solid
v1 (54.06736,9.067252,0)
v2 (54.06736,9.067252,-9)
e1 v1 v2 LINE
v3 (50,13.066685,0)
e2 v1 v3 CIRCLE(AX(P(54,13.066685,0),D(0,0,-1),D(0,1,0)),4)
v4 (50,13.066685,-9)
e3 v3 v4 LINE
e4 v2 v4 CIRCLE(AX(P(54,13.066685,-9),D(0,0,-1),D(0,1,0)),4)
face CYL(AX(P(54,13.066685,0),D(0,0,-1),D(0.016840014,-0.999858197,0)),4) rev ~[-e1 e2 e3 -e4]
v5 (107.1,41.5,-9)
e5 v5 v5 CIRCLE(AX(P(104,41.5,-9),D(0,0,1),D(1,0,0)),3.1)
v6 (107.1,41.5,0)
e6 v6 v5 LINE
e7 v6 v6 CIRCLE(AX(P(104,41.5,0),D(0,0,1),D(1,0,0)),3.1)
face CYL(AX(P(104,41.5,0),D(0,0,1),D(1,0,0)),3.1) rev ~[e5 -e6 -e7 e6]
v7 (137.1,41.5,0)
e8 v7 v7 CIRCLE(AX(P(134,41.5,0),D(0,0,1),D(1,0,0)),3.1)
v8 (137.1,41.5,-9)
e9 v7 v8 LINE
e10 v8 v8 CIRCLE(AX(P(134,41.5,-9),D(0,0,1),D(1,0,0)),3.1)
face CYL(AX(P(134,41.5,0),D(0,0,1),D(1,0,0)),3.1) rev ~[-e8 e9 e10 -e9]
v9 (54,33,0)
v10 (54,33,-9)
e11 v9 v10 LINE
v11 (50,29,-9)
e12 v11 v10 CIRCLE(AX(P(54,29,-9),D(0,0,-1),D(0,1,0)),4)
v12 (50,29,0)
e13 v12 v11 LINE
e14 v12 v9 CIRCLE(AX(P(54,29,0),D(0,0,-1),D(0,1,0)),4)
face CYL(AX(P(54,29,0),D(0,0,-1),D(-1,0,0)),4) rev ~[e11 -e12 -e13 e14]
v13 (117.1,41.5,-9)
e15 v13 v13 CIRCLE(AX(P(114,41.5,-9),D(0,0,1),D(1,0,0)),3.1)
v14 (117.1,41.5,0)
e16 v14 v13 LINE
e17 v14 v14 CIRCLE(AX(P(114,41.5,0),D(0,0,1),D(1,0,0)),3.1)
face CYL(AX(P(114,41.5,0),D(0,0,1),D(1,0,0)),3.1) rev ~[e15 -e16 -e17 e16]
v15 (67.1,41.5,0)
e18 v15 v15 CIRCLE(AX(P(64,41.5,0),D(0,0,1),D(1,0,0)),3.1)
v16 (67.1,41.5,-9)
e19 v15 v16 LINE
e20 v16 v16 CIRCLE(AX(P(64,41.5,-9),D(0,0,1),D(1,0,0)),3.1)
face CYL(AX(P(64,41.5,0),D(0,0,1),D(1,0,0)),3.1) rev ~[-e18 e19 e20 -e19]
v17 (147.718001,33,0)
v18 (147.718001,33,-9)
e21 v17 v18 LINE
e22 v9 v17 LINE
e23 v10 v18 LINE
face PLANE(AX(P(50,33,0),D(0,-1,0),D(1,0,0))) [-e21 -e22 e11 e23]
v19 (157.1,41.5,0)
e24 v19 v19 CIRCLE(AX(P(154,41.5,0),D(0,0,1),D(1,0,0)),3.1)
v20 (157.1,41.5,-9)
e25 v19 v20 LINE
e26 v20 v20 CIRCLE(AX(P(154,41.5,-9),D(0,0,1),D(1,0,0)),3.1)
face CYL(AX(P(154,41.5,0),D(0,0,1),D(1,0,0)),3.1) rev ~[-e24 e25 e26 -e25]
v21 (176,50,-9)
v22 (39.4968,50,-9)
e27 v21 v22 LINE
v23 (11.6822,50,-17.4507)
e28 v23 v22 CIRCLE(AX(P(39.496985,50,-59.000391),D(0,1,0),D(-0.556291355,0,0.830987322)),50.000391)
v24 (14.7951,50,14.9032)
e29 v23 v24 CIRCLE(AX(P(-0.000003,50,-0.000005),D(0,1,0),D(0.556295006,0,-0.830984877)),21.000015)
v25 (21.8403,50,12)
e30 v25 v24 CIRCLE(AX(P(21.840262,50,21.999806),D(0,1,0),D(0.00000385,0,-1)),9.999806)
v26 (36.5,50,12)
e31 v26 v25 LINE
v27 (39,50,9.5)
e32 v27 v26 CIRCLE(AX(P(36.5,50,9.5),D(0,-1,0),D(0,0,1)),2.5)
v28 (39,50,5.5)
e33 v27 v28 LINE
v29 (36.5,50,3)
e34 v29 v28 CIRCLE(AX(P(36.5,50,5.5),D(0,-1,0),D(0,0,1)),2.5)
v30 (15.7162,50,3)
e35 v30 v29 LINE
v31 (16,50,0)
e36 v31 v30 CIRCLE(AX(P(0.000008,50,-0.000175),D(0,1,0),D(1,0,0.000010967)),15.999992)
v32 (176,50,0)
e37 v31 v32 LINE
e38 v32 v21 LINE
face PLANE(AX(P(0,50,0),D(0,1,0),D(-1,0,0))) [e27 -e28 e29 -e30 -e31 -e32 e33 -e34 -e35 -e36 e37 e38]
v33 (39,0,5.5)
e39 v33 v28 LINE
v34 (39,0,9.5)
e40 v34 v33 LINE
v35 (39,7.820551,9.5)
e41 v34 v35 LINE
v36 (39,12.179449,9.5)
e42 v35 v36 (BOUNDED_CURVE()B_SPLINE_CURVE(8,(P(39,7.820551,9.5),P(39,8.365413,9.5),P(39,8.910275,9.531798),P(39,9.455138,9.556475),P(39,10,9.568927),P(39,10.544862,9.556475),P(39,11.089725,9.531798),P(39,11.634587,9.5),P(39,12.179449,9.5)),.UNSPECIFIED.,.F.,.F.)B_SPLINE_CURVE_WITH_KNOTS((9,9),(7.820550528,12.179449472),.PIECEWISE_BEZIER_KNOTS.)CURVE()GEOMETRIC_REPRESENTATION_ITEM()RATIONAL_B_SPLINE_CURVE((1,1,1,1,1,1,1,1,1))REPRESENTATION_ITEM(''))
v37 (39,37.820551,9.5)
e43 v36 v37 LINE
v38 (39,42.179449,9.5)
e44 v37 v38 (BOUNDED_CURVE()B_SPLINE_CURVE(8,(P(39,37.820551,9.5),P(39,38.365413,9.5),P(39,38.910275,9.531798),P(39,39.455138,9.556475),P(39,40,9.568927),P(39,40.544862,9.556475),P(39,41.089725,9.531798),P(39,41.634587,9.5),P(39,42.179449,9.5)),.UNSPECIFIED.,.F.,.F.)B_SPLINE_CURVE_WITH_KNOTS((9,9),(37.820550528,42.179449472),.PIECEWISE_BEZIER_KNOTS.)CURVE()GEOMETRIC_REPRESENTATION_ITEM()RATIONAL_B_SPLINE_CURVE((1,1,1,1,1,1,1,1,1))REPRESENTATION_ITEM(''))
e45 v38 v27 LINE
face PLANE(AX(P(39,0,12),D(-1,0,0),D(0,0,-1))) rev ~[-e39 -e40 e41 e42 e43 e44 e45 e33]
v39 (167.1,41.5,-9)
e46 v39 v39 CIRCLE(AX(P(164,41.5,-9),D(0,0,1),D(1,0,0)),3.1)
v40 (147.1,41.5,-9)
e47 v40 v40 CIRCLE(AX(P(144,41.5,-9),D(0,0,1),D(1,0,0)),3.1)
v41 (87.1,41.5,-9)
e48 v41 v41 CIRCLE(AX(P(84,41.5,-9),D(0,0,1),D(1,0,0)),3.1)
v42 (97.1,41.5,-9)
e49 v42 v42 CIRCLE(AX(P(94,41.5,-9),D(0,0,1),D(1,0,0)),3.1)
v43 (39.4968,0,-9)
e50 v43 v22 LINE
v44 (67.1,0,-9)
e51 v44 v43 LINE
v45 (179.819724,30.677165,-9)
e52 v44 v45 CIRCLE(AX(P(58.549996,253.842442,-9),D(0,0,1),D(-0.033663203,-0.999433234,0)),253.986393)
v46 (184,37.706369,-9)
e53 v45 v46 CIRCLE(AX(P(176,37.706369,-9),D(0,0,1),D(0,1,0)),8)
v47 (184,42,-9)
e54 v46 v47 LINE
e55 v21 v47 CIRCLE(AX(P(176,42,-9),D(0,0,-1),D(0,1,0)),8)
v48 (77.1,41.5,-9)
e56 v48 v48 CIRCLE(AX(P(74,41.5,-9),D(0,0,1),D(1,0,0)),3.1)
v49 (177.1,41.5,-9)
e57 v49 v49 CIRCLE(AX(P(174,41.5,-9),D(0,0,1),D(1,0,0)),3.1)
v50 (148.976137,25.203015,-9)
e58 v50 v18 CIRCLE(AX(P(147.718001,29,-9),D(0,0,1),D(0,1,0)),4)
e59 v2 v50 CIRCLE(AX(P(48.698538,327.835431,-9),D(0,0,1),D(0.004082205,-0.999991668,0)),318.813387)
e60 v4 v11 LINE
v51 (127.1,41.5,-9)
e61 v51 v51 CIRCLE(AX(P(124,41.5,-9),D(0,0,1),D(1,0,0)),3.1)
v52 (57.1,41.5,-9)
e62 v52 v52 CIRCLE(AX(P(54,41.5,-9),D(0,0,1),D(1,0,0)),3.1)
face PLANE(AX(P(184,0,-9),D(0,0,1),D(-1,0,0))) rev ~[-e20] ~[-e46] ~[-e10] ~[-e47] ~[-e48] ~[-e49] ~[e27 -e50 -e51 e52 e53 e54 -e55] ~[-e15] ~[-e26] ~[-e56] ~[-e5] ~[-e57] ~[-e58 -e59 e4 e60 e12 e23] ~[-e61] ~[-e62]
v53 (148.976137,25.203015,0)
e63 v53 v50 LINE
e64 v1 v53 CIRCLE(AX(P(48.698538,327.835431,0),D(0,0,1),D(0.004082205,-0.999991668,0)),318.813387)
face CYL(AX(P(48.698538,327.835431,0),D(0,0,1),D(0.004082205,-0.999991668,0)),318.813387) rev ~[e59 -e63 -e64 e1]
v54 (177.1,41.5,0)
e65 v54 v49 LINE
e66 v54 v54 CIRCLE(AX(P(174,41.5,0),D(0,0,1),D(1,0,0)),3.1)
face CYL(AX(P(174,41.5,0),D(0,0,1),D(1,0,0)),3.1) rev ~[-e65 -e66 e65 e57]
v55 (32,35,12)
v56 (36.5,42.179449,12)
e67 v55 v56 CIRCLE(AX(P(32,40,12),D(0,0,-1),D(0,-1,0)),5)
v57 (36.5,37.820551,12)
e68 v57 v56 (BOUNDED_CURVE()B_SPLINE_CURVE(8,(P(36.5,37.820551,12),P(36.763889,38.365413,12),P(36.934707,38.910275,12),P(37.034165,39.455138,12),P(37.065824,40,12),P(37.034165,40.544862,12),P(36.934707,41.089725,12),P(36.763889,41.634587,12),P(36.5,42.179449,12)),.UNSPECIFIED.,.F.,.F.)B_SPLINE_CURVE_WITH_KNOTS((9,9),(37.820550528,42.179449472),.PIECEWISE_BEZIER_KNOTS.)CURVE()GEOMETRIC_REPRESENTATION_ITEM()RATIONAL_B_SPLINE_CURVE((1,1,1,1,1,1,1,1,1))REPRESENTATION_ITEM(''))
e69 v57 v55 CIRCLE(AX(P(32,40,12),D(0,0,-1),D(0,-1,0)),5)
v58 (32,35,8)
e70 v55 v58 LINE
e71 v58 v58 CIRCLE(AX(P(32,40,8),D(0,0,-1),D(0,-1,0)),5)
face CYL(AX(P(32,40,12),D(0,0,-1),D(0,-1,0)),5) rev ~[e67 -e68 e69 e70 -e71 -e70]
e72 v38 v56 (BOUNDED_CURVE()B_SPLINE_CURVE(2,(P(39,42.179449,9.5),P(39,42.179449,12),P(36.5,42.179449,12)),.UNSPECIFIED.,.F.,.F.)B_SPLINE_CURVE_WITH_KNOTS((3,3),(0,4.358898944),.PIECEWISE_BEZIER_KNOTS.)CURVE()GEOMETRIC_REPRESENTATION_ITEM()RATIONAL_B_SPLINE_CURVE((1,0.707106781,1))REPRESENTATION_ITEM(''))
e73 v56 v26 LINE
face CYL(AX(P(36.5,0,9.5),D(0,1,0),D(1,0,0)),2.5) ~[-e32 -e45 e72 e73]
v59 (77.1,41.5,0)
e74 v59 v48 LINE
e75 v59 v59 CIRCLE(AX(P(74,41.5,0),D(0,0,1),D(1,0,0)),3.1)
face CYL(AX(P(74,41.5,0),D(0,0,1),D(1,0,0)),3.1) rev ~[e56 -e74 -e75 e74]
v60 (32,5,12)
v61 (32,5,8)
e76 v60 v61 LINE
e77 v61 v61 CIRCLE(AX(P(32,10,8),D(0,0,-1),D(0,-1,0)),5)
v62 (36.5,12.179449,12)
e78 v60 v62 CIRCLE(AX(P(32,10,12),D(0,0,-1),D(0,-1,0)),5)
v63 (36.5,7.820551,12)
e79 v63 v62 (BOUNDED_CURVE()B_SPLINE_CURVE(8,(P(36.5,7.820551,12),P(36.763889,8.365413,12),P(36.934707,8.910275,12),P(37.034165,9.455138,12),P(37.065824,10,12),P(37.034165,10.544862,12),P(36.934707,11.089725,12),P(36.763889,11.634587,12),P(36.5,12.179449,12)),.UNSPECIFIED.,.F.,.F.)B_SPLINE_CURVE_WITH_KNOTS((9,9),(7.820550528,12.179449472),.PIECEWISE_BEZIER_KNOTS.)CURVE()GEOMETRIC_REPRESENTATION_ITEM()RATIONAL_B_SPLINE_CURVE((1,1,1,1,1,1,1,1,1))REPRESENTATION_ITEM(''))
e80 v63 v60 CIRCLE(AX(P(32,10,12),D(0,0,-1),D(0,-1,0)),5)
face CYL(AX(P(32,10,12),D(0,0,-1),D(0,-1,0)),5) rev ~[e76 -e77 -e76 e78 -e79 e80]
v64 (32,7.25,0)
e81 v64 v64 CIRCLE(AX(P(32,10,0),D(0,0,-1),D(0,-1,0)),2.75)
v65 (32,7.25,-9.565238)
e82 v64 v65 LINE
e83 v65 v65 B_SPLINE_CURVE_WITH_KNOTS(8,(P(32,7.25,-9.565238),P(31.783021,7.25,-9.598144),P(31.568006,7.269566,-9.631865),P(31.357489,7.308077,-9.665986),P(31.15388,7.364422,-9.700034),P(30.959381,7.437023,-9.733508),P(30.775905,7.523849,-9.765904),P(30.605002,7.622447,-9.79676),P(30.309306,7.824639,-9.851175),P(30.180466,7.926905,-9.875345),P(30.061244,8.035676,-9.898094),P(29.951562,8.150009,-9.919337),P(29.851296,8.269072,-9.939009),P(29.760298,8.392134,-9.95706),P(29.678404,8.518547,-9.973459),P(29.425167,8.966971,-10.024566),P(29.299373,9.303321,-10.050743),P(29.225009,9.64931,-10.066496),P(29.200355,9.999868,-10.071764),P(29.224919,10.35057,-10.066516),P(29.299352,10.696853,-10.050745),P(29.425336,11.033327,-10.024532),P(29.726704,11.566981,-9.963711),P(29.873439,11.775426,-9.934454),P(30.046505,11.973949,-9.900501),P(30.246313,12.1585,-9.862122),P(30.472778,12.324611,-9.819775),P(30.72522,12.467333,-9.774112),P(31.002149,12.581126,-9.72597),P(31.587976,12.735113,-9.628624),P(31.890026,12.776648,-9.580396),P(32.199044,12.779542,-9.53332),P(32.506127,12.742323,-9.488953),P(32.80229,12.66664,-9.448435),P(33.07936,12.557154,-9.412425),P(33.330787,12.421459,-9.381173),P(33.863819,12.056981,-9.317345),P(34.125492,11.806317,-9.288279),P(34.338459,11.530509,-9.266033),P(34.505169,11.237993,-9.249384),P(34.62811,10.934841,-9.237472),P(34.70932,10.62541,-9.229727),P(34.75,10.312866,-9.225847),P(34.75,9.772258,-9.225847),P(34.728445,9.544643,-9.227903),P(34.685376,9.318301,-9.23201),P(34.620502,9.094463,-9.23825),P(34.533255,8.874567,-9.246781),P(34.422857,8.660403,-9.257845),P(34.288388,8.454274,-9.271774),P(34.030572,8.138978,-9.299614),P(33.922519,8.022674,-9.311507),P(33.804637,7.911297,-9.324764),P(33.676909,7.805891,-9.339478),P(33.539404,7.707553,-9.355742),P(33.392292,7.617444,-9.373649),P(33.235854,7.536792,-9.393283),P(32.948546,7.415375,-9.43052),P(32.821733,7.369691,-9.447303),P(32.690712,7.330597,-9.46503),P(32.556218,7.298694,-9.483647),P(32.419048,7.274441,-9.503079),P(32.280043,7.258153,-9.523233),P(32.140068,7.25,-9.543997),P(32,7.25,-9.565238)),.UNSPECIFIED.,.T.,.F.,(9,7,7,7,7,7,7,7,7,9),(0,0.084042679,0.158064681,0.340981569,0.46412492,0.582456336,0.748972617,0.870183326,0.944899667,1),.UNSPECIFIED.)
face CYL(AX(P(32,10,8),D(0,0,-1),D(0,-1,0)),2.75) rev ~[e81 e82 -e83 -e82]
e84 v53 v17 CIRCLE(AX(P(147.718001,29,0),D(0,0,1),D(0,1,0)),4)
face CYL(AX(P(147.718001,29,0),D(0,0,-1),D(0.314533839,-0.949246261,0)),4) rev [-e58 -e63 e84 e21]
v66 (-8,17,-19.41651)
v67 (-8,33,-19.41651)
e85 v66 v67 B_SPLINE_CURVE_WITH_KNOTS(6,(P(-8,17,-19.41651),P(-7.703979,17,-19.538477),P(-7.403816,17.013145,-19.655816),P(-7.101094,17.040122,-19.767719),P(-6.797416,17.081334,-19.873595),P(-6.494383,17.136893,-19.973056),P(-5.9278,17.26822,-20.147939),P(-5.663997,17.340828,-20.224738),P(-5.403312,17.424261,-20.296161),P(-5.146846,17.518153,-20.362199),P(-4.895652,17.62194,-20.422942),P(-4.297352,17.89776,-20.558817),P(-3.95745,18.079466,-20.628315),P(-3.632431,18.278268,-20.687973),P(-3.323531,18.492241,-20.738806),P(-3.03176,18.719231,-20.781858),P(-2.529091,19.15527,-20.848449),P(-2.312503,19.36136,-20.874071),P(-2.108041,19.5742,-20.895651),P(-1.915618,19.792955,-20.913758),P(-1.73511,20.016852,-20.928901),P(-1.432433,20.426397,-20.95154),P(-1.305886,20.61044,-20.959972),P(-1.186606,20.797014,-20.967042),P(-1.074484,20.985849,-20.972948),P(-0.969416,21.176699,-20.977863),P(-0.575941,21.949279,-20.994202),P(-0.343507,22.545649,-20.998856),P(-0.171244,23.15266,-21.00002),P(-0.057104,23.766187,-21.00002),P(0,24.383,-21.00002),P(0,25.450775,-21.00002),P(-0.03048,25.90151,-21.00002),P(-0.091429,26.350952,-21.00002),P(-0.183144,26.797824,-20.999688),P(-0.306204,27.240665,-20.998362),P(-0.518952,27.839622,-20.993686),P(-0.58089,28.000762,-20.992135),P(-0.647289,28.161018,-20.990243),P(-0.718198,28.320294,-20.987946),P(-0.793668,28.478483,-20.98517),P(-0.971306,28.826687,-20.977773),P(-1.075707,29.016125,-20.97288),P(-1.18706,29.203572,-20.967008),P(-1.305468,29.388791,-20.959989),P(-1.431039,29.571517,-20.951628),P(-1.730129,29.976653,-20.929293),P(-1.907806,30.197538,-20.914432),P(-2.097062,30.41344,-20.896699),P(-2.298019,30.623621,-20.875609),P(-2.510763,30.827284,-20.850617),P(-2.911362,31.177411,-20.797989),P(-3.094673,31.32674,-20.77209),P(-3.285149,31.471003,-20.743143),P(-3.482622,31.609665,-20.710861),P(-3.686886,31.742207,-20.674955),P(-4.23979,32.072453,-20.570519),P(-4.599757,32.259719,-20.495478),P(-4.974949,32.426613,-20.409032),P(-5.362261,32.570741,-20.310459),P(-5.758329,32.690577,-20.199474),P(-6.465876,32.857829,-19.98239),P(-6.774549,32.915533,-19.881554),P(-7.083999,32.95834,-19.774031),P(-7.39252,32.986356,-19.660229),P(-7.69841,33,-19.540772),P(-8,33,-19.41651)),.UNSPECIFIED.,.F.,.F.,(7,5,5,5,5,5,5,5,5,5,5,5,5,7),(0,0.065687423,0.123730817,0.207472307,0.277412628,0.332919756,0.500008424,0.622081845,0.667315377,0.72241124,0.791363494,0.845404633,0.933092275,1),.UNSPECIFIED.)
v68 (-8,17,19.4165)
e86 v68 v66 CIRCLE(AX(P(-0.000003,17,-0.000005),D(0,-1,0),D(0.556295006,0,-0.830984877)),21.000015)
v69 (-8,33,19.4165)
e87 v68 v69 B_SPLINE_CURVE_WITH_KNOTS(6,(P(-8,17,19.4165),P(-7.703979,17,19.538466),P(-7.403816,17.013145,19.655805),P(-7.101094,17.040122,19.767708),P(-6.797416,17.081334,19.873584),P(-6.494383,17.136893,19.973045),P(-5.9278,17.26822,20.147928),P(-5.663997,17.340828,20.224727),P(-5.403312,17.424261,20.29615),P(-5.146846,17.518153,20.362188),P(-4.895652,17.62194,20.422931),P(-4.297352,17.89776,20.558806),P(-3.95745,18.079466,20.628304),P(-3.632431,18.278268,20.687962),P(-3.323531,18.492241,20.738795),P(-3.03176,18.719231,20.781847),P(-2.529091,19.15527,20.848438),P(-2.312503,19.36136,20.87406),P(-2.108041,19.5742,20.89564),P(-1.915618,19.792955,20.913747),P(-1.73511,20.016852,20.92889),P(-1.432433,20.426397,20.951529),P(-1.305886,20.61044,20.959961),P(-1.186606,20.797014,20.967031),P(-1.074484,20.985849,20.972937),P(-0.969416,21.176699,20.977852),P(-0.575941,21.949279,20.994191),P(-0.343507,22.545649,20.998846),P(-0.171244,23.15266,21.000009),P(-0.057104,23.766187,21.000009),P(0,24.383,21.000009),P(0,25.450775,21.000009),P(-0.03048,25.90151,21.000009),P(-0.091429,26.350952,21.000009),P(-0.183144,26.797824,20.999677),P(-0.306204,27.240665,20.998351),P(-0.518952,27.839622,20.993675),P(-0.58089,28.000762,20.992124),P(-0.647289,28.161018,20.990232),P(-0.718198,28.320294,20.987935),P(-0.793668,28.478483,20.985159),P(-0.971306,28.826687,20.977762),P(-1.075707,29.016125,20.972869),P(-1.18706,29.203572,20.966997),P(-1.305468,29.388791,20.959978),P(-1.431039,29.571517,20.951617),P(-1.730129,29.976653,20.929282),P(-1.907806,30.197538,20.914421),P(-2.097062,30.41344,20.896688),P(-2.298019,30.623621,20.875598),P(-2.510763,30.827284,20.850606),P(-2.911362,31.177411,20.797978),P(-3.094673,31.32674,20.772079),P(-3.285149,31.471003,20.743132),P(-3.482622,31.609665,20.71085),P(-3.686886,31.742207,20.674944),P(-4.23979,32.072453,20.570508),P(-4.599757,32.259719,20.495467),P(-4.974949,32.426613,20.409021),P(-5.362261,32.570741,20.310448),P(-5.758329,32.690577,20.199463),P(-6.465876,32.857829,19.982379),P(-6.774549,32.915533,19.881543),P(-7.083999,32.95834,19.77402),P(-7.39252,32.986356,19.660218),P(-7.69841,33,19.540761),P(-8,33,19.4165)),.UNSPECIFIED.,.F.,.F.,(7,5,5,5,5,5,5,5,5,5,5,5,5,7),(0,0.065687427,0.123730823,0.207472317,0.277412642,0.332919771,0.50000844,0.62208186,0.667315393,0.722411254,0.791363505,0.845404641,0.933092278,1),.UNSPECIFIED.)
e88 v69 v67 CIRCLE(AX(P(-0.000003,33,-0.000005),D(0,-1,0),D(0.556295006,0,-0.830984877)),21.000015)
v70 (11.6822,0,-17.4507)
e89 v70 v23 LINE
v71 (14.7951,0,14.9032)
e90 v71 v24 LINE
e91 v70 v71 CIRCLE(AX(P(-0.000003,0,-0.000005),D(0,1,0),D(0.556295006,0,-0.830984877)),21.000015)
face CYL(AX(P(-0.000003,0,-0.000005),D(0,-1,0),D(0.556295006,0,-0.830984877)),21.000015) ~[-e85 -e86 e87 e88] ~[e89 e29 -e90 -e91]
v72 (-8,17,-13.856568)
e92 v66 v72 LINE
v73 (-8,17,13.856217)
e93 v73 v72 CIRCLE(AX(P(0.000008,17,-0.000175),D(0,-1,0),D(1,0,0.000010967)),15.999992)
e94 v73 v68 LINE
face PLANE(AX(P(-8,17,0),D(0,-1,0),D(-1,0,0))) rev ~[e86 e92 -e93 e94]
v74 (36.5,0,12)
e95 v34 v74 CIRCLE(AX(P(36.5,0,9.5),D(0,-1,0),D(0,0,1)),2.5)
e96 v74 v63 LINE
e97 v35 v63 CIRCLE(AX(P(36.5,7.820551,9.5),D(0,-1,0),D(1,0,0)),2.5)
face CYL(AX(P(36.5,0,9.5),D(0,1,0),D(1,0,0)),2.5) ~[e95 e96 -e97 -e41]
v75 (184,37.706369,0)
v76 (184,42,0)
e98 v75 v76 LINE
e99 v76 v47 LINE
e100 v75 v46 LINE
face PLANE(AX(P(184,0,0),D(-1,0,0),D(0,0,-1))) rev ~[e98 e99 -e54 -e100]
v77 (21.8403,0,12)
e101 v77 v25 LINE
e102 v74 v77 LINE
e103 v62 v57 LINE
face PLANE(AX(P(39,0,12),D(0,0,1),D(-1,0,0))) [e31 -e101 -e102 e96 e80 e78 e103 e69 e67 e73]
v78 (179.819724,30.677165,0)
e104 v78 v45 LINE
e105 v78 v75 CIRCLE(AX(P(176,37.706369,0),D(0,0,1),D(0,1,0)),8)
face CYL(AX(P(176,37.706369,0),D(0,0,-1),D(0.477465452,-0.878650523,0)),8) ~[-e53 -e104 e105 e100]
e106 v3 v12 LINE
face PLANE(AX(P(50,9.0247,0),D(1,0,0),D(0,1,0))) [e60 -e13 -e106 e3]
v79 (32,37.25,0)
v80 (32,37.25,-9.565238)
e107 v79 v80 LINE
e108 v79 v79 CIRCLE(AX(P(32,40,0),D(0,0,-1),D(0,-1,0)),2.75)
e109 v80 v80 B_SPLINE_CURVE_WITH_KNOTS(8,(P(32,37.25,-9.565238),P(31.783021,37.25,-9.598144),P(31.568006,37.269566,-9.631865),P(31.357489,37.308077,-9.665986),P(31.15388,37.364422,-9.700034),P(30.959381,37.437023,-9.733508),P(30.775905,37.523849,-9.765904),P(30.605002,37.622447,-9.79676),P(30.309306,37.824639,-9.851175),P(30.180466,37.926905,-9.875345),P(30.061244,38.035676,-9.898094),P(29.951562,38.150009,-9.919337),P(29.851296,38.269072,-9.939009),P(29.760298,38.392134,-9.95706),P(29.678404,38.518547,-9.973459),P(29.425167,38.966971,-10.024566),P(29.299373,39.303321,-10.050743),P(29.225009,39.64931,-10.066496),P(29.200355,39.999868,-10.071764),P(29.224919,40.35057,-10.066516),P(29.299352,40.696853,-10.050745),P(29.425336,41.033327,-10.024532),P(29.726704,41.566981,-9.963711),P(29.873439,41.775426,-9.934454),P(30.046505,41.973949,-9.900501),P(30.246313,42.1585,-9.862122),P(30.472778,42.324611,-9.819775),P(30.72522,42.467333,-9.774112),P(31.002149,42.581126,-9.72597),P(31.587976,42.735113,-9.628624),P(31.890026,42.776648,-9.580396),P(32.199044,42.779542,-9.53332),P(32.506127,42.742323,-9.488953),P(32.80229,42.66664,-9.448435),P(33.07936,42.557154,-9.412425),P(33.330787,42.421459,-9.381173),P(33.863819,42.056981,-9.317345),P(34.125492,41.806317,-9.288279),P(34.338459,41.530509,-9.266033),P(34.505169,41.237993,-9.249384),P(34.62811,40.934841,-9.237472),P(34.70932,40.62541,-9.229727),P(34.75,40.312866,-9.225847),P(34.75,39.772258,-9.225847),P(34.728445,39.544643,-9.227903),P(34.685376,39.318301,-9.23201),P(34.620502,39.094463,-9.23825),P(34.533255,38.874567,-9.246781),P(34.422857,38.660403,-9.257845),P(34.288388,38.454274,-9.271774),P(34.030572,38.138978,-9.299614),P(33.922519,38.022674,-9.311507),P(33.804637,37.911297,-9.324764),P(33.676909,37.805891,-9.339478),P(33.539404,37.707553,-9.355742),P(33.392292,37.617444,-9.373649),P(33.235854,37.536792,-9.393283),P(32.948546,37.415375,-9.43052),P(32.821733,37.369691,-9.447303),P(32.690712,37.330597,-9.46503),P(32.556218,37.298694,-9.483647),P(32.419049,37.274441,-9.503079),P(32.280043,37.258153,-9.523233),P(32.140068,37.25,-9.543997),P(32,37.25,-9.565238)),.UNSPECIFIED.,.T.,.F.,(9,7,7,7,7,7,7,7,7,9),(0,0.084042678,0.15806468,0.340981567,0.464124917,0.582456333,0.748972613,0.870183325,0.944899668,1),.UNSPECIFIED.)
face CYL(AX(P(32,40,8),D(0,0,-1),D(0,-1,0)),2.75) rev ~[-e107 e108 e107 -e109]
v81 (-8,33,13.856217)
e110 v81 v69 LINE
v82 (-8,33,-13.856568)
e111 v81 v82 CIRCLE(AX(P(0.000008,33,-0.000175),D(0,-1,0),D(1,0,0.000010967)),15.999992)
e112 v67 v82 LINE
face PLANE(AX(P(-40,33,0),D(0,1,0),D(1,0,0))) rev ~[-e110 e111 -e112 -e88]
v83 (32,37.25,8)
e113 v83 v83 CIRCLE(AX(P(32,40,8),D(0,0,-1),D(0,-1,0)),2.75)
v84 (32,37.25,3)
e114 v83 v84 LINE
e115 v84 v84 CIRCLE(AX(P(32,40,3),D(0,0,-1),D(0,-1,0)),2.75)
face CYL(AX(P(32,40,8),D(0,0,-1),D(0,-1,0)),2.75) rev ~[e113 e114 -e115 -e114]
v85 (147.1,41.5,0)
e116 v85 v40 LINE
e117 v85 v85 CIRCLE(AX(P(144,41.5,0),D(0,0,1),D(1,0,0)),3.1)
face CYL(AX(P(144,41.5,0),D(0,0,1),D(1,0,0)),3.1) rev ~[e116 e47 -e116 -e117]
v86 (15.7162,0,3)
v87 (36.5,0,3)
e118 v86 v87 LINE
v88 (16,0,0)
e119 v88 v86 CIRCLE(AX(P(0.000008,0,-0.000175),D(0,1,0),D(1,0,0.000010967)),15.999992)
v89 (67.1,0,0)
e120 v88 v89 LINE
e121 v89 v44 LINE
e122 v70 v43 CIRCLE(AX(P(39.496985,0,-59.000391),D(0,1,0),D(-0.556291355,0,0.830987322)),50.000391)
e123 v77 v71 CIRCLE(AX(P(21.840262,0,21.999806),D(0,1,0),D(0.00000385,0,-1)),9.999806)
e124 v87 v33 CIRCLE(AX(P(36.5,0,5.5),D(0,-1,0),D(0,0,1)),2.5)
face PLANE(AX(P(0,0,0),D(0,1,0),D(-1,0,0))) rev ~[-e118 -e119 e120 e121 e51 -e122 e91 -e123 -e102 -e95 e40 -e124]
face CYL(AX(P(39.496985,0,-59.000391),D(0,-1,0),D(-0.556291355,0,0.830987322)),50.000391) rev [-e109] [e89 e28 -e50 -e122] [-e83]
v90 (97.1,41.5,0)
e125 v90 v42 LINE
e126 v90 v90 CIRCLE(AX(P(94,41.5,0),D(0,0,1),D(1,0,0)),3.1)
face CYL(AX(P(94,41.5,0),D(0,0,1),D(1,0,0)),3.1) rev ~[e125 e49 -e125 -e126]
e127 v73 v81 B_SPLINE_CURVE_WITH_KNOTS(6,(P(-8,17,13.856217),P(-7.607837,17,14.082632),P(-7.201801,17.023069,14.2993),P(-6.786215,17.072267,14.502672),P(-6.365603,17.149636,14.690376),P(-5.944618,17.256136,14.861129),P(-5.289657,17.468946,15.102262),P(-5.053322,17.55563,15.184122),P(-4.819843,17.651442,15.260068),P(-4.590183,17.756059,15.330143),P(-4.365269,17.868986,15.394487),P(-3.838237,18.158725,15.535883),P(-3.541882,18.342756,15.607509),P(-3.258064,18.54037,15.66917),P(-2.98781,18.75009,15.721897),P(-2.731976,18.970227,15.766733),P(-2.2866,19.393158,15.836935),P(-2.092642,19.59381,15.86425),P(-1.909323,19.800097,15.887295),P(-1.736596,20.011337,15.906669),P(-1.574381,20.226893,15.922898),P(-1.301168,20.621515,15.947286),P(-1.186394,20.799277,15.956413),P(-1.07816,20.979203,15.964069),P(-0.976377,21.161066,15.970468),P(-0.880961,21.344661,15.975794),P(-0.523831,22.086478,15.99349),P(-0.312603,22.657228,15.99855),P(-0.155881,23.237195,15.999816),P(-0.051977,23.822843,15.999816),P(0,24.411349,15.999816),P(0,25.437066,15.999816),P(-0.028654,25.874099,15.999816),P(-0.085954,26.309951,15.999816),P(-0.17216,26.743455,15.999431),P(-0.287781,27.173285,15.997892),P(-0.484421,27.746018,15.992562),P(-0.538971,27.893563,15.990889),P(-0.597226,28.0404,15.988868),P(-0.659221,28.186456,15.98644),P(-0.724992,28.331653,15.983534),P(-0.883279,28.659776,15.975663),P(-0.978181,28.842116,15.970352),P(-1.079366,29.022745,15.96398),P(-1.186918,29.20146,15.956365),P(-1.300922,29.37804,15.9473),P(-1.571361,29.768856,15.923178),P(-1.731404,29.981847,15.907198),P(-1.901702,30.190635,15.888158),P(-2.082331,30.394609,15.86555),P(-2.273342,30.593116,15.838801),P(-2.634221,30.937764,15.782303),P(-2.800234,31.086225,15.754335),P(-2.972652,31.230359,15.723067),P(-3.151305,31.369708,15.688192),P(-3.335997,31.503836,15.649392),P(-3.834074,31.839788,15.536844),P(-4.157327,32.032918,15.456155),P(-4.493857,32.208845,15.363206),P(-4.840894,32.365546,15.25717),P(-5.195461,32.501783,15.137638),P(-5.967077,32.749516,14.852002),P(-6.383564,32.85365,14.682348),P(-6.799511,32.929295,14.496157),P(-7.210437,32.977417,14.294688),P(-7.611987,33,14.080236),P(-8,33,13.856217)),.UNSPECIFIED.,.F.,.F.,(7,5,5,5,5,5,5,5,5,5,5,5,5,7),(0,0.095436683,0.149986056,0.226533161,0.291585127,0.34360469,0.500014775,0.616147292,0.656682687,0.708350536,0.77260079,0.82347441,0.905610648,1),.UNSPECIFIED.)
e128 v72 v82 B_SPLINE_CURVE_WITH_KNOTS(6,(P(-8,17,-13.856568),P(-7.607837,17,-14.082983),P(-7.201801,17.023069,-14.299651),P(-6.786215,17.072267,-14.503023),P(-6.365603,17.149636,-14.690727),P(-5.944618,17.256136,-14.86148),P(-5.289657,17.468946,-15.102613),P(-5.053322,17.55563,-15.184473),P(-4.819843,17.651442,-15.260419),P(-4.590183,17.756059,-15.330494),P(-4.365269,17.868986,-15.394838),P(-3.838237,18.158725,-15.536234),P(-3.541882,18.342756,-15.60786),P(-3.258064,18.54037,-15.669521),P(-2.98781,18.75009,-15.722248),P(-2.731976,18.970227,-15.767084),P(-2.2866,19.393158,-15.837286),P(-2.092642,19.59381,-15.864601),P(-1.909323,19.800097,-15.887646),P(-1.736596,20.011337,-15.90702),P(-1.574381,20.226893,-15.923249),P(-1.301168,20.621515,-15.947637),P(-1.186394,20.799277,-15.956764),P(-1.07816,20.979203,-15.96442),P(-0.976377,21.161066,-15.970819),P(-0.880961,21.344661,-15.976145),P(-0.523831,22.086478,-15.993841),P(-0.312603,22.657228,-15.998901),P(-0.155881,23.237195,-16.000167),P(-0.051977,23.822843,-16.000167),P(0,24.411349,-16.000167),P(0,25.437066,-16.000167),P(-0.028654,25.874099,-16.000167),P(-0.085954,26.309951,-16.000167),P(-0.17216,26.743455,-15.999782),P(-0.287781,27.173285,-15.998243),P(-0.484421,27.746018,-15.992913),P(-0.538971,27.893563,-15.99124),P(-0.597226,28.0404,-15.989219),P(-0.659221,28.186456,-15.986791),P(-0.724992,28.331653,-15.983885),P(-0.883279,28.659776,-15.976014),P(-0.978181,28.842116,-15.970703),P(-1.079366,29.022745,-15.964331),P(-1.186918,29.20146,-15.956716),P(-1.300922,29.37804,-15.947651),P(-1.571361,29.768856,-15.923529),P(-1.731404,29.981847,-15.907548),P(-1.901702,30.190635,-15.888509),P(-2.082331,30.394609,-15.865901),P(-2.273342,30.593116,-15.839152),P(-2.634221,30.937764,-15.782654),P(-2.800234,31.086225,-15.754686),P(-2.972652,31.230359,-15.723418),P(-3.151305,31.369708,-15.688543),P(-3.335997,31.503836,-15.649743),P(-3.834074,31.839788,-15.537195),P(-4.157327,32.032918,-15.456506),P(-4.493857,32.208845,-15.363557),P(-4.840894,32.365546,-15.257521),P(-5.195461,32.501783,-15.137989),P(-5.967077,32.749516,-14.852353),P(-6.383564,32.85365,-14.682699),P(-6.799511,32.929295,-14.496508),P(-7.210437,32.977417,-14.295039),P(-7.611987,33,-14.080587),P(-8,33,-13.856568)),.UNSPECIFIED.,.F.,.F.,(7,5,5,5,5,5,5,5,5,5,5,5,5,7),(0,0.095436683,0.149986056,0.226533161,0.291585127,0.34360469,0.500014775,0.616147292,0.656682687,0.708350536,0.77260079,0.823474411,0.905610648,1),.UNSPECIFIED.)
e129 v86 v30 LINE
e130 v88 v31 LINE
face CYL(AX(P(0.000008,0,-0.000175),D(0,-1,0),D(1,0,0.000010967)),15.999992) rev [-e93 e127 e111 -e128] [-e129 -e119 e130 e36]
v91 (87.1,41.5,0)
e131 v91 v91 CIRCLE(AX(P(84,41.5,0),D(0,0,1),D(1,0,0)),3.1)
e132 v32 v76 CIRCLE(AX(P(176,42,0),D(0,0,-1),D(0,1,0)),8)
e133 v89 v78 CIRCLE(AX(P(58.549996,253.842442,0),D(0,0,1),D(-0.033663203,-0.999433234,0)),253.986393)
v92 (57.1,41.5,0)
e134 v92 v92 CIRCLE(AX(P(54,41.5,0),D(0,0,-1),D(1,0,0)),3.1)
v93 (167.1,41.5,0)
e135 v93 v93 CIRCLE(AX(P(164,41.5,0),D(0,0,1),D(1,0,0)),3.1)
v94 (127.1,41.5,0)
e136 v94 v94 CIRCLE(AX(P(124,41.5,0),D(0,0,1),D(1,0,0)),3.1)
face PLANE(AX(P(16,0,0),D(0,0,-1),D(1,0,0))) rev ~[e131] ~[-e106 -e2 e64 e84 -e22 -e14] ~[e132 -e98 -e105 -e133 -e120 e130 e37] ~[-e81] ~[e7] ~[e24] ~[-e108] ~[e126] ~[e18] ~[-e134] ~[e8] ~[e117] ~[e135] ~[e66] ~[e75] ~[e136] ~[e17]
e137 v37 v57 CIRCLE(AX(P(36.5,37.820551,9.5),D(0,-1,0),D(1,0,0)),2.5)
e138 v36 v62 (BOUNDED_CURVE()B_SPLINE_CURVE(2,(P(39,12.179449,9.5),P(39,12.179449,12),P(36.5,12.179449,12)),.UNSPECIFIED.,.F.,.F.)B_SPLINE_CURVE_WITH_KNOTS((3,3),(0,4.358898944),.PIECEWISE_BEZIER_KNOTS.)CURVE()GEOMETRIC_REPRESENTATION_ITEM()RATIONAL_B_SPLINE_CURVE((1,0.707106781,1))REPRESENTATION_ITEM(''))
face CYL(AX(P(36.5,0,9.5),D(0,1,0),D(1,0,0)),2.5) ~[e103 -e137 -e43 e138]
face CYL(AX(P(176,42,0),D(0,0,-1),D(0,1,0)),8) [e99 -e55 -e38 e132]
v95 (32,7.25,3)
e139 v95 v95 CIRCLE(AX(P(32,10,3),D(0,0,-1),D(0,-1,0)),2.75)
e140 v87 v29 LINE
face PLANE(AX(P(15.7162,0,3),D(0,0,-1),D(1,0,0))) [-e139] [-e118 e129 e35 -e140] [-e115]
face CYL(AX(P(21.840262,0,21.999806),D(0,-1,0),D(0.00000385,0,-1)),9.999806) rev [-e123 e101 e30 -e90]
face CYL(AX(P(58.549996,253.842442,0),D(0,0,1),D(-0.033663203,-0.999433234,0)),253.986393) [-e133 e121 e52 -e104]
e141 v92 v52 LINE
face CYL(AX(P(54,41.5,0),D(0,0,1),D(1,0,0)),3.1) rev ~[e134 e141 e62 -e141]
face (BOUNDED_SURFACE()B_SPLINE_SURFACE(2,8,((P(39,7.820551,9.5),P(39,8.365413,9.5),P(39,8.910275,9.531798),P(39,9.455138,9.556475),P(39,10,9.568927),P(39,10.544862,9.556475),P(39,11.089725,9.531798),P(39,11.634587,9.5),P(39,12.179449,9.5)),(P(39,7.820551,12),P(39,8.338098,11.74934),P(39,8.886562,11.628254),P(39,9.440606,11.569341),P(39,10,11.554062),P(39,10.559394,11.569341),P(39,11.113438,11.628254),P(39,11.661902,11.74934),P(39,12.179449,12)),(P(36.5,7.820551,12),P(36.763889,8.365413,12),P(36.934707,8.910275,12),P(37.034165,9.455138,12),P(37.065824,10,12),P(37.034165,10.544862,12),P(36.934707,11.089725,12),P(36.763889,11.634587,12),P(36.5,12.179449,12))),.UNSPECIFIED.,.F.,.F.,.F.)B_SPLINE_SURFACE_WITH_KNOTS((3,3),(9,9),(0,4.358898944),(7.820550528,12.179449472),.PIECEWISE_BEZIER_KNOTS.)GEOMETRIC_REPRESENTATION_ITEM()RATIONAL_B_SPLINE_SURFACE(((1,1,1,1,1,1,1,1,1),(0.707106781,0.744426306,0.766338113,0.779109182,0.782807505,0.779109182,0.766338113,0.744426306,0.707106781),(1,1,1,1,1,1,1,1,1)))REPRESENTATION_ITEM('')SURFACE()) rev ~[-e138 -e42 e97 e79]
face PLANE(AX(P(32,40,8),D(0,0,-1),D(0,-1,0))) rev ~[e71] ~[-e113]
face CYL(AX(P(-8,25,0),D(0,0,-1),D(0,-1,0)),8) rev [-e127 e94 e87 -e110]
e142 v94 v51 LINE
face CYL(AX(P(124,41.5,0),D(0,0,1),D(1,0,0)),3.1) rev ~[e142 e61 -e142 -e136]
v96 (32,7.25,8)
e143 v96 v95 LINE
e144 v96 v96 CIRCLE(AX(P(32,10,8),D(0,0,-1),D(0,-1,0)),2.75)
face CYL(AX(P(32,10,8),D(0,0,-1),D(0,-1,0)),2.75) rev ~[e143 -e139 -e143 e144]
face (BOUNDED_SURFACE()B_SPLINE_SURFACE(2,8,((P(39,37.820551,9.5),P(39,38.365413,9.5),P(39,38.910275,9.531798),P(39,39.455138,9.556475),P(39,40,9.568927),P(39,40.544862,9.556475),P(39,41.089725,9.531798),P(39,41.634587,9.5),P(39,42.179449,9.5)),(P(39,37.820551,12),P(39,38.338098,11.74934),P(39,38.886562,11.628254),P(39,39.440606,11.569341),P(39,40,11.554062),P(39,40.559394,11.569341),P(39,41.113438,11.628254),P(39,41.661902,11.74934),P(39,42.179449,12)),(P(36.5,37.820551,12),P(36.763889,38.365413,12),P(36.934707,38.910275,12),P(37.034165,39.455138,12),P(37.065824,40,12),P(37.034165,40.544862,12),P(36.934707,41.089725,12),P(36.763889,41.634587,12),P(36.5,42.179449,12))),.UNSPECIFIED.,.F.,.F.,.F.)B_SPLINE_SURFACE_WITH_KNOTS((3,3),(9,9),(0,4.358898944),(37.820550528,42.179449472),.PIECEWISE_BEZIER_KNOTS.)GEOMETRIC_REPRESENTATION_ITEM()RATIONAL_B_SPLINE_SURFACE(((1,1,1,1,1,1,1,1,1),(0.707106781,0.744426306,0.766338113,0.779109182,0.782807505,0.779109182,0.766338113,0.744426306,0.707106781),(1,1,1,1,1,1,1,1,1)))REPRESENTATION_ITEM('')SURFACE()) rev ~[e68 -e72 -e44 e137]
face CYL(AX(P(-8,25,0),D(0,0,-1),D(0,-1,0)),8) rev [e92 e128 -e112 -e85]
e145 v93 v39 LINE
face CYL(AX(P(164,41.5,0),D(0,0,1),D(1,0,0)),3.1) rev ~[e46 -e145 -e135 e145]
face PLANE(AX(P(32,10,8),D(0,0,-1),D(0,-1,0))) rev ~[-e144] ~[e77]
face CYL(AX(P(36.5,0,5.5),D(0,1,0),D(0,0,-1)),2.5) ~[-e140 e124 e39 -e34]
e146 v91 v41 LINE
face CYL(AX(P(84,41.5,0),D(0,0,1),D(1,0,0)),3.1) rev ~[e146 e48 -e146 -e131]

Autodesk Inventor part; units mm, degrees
ref_plane "YZ Plane" through (0, 0, 0) normal (1, 0, 0) x (0, 1, 0)
ref_plane "XZ Plane" through (0, 0, 0) normal (0, 1, 0) x (-1, 0, 0)
ref_plane "XY Plane" through (0, 0, 0) normal (0, 0, 1) x (1, 0, 0)
sketch "Sketch1" plane through (0, 0, 0) normal (0, 1, 0) x (-1, 0, 0)
  arc A0 (-16, 0) -> (-15.7162, 3) centre (0, 0) ccw
  arc A1 (-11.6822, -17.4507) -> (-14.7951, 14.9032) centre (0, 0) ccw
  line L0 (-16, 0) -> (-184, 0)
  line L1 (-184, 0) -> (-184, -9)
  line L2 (-184, -9) -> (-39.4968, -9)
  arc A2 (-11.6822, -17.4507) -> (-39.4968, -9) centre (-39.4968, -59) ccw
  line L3 (-39, 12) -> (-39, 3)
  line L4 (0, 0) -> (0, 3)
  line L5 (-15.7162, 3) -> (-39, 3)
  line L6 (-39, 3) -> (-39, 12)
  line L7 (-39, 12) -> (-21.8403, 12)
  arc A3 (-21.8403, 12) -> (-14.7951, 14.9032) centre (-21.8403, 22) ccw
  point P0 (-18.9737, -9)
  point P1 (-17.2337, 12)
  dimension "d0" = 32
  dimension "d1" = 42
  dimension "d2" = 168
  dimension "d3" = 9
  dimension "d4" = 50
  dimension "d7" = 3
  dimension "d8" = 39
  dimension "d9" = 9
  dimension "d10" = 3
  dimension "d11" = 39
  dimension "d12" = 10
extrude "Extrusion1" add sketch "Sketch1" along normal blind 50
hole "Hole1" at (32, 10, 12) direction (0, 0, -1) diameter 5.5 end through all counterbore diameter 10 counterbore depth 4
hole "Hole2" at (32, 40, 12) direction (0, 0, -1) diameter 5.5 end through all counterbore diameter 10 counterbore depth 4
sketch "Sketch3" plane through (16, 0, 0) normal (0, 0, 1) x (1, 0, 0)
  point P0 (-16, 0)
fillet "Fillet1" radius 2.5 2 edges at (39, 25, 12) (39, 25, 3)
sketch "Sketch4" plane through (0, 0, 0) normal (0, 1, 0) x (-1, 0, 0)
  point P0 (0, 0)
sketch "Sketch5" plane through (0, 0, 0) normal (0, 0, 1) x (1, 0, 0)
  line L0 (0, 0) -> (0, 17)
  line L1 (14.7951, 50) -> (-21, 50) projected
  line L2 (-8, 17) -> (-40, 17)
  line L3 (-40, 17) -> (-40, 33)
  line L4 (-40, 33) -> (-8, 33)
  line L5 (0, 25) -> (0, 25)
  arc A0 (0, 25) -> (-8, 33) centre (-8, 25) ccw
  arc A1 (-8, 17) -> (0, 25) centre (-8, 25) ccw
  point P0 (11.6822, 50)
  point P1 (0, 33)
  dimension "d41" = 17
  dimension "d42" = 40
  dimension "d43" = 16
  dimension "d44" = 40
  dimension "d45" = 8
extrude "Extrusion3" cut sketch "Sketch5" along normal through all both and the other way through all
sketch "Sketch8" plane through (16, 0, 0) normal (0, 0, 1) x (1, 0, 0)
  line L0 (-16, 0) -> (-16, 50)
  line L1 (-32, 50) -> (0, 50) projected
  line L2 (-16, 50) -> (34, 50)
  line L3 (0, 50) -> (168, 50) projected
  line L4 (34, 50) -> (34, 33)
  line L5 (34, 33) -> (154, 33)
  line L6 (168, 0) -> (168, 50) projected
  line L7 (51.1, 0) -> (173.3862, 0) construction
  line L8 (34, 50) -> (38, 50)
  line L9 (38, 50) -> (38, 41.5)
  circle A0 centre (38, 41.5) radius 3.1
  circle A1 centre (48, 41.5) radius 3.1
  circle A2 centre (58, 41.5) radius 3.1
  circle A3 centre (68, 41.5) radius 3.1
  circle A4 centre (78, 41.5) radius 3.1
  circle A5 centre (88, 41.5) radius 3.1
  circle A6 centre (98, 41.5) radius 3.1
  circle A7 centre (108, 41.5) radius 3.1
  circle A8 centre (118, 41.5) radius 3.1
  circle A9 centre (128, 41.5) radius 3.1
  circle A10 centre (138, 41.5) radius 3.1
  circle A11 centre (148, 41.5) radius 3.1
  circle A12 centre (158, 41.5) radius 3.1
  arc A13 (34, 9.0247) -> (154, 33) centre (32.6984, 327.8368) ccw
  line L10 (34, 0) -> (168, 0)
  line L11 (168, 0) -> (168, 33)
  arc A14 (34, 0) -> (51.1, 0) centre (42.55, 253.8424) ccw
  line L12 (34, 9.0247) -> (34, 33)
  arc A15 (34, 0) -> (168, 33) centre (42.55, 253.8424) ccw
  point P0 (-0.2838, 50)
  dimension "d49" = 50
  dimension "d50" = 17
  dimension "d54" = 4
  dimension "d55" = 8.5
  dimension "d56" = 6.2
  dimension "d59" = 10
  dimension "d73" = 120
  dimension "d74" = 23.9753
extrude "Extrusion4" cut sketch "Sketch8" against normal through all contours L6 L10 A15 | A0 | L5 A13 L12 | A1 | A2 | A3 | A4 | A5 | A6 | A7 | A8 | A9 | A10 | A11 | A12
fillet "Fillet2" radius 4 1 edges at (170, 33, -4.5)
fillet "Fillet3" radius 4 2 edges at (50, 33, -4.5) (50, 9.0247, -4.5)
fillet "Fillet4" radius 8 2 edges at (184, 50, -4.5) (184, 33, -4.5)
properties part number "suporte-rodas-esq" material "Aluminium AW-7020"
